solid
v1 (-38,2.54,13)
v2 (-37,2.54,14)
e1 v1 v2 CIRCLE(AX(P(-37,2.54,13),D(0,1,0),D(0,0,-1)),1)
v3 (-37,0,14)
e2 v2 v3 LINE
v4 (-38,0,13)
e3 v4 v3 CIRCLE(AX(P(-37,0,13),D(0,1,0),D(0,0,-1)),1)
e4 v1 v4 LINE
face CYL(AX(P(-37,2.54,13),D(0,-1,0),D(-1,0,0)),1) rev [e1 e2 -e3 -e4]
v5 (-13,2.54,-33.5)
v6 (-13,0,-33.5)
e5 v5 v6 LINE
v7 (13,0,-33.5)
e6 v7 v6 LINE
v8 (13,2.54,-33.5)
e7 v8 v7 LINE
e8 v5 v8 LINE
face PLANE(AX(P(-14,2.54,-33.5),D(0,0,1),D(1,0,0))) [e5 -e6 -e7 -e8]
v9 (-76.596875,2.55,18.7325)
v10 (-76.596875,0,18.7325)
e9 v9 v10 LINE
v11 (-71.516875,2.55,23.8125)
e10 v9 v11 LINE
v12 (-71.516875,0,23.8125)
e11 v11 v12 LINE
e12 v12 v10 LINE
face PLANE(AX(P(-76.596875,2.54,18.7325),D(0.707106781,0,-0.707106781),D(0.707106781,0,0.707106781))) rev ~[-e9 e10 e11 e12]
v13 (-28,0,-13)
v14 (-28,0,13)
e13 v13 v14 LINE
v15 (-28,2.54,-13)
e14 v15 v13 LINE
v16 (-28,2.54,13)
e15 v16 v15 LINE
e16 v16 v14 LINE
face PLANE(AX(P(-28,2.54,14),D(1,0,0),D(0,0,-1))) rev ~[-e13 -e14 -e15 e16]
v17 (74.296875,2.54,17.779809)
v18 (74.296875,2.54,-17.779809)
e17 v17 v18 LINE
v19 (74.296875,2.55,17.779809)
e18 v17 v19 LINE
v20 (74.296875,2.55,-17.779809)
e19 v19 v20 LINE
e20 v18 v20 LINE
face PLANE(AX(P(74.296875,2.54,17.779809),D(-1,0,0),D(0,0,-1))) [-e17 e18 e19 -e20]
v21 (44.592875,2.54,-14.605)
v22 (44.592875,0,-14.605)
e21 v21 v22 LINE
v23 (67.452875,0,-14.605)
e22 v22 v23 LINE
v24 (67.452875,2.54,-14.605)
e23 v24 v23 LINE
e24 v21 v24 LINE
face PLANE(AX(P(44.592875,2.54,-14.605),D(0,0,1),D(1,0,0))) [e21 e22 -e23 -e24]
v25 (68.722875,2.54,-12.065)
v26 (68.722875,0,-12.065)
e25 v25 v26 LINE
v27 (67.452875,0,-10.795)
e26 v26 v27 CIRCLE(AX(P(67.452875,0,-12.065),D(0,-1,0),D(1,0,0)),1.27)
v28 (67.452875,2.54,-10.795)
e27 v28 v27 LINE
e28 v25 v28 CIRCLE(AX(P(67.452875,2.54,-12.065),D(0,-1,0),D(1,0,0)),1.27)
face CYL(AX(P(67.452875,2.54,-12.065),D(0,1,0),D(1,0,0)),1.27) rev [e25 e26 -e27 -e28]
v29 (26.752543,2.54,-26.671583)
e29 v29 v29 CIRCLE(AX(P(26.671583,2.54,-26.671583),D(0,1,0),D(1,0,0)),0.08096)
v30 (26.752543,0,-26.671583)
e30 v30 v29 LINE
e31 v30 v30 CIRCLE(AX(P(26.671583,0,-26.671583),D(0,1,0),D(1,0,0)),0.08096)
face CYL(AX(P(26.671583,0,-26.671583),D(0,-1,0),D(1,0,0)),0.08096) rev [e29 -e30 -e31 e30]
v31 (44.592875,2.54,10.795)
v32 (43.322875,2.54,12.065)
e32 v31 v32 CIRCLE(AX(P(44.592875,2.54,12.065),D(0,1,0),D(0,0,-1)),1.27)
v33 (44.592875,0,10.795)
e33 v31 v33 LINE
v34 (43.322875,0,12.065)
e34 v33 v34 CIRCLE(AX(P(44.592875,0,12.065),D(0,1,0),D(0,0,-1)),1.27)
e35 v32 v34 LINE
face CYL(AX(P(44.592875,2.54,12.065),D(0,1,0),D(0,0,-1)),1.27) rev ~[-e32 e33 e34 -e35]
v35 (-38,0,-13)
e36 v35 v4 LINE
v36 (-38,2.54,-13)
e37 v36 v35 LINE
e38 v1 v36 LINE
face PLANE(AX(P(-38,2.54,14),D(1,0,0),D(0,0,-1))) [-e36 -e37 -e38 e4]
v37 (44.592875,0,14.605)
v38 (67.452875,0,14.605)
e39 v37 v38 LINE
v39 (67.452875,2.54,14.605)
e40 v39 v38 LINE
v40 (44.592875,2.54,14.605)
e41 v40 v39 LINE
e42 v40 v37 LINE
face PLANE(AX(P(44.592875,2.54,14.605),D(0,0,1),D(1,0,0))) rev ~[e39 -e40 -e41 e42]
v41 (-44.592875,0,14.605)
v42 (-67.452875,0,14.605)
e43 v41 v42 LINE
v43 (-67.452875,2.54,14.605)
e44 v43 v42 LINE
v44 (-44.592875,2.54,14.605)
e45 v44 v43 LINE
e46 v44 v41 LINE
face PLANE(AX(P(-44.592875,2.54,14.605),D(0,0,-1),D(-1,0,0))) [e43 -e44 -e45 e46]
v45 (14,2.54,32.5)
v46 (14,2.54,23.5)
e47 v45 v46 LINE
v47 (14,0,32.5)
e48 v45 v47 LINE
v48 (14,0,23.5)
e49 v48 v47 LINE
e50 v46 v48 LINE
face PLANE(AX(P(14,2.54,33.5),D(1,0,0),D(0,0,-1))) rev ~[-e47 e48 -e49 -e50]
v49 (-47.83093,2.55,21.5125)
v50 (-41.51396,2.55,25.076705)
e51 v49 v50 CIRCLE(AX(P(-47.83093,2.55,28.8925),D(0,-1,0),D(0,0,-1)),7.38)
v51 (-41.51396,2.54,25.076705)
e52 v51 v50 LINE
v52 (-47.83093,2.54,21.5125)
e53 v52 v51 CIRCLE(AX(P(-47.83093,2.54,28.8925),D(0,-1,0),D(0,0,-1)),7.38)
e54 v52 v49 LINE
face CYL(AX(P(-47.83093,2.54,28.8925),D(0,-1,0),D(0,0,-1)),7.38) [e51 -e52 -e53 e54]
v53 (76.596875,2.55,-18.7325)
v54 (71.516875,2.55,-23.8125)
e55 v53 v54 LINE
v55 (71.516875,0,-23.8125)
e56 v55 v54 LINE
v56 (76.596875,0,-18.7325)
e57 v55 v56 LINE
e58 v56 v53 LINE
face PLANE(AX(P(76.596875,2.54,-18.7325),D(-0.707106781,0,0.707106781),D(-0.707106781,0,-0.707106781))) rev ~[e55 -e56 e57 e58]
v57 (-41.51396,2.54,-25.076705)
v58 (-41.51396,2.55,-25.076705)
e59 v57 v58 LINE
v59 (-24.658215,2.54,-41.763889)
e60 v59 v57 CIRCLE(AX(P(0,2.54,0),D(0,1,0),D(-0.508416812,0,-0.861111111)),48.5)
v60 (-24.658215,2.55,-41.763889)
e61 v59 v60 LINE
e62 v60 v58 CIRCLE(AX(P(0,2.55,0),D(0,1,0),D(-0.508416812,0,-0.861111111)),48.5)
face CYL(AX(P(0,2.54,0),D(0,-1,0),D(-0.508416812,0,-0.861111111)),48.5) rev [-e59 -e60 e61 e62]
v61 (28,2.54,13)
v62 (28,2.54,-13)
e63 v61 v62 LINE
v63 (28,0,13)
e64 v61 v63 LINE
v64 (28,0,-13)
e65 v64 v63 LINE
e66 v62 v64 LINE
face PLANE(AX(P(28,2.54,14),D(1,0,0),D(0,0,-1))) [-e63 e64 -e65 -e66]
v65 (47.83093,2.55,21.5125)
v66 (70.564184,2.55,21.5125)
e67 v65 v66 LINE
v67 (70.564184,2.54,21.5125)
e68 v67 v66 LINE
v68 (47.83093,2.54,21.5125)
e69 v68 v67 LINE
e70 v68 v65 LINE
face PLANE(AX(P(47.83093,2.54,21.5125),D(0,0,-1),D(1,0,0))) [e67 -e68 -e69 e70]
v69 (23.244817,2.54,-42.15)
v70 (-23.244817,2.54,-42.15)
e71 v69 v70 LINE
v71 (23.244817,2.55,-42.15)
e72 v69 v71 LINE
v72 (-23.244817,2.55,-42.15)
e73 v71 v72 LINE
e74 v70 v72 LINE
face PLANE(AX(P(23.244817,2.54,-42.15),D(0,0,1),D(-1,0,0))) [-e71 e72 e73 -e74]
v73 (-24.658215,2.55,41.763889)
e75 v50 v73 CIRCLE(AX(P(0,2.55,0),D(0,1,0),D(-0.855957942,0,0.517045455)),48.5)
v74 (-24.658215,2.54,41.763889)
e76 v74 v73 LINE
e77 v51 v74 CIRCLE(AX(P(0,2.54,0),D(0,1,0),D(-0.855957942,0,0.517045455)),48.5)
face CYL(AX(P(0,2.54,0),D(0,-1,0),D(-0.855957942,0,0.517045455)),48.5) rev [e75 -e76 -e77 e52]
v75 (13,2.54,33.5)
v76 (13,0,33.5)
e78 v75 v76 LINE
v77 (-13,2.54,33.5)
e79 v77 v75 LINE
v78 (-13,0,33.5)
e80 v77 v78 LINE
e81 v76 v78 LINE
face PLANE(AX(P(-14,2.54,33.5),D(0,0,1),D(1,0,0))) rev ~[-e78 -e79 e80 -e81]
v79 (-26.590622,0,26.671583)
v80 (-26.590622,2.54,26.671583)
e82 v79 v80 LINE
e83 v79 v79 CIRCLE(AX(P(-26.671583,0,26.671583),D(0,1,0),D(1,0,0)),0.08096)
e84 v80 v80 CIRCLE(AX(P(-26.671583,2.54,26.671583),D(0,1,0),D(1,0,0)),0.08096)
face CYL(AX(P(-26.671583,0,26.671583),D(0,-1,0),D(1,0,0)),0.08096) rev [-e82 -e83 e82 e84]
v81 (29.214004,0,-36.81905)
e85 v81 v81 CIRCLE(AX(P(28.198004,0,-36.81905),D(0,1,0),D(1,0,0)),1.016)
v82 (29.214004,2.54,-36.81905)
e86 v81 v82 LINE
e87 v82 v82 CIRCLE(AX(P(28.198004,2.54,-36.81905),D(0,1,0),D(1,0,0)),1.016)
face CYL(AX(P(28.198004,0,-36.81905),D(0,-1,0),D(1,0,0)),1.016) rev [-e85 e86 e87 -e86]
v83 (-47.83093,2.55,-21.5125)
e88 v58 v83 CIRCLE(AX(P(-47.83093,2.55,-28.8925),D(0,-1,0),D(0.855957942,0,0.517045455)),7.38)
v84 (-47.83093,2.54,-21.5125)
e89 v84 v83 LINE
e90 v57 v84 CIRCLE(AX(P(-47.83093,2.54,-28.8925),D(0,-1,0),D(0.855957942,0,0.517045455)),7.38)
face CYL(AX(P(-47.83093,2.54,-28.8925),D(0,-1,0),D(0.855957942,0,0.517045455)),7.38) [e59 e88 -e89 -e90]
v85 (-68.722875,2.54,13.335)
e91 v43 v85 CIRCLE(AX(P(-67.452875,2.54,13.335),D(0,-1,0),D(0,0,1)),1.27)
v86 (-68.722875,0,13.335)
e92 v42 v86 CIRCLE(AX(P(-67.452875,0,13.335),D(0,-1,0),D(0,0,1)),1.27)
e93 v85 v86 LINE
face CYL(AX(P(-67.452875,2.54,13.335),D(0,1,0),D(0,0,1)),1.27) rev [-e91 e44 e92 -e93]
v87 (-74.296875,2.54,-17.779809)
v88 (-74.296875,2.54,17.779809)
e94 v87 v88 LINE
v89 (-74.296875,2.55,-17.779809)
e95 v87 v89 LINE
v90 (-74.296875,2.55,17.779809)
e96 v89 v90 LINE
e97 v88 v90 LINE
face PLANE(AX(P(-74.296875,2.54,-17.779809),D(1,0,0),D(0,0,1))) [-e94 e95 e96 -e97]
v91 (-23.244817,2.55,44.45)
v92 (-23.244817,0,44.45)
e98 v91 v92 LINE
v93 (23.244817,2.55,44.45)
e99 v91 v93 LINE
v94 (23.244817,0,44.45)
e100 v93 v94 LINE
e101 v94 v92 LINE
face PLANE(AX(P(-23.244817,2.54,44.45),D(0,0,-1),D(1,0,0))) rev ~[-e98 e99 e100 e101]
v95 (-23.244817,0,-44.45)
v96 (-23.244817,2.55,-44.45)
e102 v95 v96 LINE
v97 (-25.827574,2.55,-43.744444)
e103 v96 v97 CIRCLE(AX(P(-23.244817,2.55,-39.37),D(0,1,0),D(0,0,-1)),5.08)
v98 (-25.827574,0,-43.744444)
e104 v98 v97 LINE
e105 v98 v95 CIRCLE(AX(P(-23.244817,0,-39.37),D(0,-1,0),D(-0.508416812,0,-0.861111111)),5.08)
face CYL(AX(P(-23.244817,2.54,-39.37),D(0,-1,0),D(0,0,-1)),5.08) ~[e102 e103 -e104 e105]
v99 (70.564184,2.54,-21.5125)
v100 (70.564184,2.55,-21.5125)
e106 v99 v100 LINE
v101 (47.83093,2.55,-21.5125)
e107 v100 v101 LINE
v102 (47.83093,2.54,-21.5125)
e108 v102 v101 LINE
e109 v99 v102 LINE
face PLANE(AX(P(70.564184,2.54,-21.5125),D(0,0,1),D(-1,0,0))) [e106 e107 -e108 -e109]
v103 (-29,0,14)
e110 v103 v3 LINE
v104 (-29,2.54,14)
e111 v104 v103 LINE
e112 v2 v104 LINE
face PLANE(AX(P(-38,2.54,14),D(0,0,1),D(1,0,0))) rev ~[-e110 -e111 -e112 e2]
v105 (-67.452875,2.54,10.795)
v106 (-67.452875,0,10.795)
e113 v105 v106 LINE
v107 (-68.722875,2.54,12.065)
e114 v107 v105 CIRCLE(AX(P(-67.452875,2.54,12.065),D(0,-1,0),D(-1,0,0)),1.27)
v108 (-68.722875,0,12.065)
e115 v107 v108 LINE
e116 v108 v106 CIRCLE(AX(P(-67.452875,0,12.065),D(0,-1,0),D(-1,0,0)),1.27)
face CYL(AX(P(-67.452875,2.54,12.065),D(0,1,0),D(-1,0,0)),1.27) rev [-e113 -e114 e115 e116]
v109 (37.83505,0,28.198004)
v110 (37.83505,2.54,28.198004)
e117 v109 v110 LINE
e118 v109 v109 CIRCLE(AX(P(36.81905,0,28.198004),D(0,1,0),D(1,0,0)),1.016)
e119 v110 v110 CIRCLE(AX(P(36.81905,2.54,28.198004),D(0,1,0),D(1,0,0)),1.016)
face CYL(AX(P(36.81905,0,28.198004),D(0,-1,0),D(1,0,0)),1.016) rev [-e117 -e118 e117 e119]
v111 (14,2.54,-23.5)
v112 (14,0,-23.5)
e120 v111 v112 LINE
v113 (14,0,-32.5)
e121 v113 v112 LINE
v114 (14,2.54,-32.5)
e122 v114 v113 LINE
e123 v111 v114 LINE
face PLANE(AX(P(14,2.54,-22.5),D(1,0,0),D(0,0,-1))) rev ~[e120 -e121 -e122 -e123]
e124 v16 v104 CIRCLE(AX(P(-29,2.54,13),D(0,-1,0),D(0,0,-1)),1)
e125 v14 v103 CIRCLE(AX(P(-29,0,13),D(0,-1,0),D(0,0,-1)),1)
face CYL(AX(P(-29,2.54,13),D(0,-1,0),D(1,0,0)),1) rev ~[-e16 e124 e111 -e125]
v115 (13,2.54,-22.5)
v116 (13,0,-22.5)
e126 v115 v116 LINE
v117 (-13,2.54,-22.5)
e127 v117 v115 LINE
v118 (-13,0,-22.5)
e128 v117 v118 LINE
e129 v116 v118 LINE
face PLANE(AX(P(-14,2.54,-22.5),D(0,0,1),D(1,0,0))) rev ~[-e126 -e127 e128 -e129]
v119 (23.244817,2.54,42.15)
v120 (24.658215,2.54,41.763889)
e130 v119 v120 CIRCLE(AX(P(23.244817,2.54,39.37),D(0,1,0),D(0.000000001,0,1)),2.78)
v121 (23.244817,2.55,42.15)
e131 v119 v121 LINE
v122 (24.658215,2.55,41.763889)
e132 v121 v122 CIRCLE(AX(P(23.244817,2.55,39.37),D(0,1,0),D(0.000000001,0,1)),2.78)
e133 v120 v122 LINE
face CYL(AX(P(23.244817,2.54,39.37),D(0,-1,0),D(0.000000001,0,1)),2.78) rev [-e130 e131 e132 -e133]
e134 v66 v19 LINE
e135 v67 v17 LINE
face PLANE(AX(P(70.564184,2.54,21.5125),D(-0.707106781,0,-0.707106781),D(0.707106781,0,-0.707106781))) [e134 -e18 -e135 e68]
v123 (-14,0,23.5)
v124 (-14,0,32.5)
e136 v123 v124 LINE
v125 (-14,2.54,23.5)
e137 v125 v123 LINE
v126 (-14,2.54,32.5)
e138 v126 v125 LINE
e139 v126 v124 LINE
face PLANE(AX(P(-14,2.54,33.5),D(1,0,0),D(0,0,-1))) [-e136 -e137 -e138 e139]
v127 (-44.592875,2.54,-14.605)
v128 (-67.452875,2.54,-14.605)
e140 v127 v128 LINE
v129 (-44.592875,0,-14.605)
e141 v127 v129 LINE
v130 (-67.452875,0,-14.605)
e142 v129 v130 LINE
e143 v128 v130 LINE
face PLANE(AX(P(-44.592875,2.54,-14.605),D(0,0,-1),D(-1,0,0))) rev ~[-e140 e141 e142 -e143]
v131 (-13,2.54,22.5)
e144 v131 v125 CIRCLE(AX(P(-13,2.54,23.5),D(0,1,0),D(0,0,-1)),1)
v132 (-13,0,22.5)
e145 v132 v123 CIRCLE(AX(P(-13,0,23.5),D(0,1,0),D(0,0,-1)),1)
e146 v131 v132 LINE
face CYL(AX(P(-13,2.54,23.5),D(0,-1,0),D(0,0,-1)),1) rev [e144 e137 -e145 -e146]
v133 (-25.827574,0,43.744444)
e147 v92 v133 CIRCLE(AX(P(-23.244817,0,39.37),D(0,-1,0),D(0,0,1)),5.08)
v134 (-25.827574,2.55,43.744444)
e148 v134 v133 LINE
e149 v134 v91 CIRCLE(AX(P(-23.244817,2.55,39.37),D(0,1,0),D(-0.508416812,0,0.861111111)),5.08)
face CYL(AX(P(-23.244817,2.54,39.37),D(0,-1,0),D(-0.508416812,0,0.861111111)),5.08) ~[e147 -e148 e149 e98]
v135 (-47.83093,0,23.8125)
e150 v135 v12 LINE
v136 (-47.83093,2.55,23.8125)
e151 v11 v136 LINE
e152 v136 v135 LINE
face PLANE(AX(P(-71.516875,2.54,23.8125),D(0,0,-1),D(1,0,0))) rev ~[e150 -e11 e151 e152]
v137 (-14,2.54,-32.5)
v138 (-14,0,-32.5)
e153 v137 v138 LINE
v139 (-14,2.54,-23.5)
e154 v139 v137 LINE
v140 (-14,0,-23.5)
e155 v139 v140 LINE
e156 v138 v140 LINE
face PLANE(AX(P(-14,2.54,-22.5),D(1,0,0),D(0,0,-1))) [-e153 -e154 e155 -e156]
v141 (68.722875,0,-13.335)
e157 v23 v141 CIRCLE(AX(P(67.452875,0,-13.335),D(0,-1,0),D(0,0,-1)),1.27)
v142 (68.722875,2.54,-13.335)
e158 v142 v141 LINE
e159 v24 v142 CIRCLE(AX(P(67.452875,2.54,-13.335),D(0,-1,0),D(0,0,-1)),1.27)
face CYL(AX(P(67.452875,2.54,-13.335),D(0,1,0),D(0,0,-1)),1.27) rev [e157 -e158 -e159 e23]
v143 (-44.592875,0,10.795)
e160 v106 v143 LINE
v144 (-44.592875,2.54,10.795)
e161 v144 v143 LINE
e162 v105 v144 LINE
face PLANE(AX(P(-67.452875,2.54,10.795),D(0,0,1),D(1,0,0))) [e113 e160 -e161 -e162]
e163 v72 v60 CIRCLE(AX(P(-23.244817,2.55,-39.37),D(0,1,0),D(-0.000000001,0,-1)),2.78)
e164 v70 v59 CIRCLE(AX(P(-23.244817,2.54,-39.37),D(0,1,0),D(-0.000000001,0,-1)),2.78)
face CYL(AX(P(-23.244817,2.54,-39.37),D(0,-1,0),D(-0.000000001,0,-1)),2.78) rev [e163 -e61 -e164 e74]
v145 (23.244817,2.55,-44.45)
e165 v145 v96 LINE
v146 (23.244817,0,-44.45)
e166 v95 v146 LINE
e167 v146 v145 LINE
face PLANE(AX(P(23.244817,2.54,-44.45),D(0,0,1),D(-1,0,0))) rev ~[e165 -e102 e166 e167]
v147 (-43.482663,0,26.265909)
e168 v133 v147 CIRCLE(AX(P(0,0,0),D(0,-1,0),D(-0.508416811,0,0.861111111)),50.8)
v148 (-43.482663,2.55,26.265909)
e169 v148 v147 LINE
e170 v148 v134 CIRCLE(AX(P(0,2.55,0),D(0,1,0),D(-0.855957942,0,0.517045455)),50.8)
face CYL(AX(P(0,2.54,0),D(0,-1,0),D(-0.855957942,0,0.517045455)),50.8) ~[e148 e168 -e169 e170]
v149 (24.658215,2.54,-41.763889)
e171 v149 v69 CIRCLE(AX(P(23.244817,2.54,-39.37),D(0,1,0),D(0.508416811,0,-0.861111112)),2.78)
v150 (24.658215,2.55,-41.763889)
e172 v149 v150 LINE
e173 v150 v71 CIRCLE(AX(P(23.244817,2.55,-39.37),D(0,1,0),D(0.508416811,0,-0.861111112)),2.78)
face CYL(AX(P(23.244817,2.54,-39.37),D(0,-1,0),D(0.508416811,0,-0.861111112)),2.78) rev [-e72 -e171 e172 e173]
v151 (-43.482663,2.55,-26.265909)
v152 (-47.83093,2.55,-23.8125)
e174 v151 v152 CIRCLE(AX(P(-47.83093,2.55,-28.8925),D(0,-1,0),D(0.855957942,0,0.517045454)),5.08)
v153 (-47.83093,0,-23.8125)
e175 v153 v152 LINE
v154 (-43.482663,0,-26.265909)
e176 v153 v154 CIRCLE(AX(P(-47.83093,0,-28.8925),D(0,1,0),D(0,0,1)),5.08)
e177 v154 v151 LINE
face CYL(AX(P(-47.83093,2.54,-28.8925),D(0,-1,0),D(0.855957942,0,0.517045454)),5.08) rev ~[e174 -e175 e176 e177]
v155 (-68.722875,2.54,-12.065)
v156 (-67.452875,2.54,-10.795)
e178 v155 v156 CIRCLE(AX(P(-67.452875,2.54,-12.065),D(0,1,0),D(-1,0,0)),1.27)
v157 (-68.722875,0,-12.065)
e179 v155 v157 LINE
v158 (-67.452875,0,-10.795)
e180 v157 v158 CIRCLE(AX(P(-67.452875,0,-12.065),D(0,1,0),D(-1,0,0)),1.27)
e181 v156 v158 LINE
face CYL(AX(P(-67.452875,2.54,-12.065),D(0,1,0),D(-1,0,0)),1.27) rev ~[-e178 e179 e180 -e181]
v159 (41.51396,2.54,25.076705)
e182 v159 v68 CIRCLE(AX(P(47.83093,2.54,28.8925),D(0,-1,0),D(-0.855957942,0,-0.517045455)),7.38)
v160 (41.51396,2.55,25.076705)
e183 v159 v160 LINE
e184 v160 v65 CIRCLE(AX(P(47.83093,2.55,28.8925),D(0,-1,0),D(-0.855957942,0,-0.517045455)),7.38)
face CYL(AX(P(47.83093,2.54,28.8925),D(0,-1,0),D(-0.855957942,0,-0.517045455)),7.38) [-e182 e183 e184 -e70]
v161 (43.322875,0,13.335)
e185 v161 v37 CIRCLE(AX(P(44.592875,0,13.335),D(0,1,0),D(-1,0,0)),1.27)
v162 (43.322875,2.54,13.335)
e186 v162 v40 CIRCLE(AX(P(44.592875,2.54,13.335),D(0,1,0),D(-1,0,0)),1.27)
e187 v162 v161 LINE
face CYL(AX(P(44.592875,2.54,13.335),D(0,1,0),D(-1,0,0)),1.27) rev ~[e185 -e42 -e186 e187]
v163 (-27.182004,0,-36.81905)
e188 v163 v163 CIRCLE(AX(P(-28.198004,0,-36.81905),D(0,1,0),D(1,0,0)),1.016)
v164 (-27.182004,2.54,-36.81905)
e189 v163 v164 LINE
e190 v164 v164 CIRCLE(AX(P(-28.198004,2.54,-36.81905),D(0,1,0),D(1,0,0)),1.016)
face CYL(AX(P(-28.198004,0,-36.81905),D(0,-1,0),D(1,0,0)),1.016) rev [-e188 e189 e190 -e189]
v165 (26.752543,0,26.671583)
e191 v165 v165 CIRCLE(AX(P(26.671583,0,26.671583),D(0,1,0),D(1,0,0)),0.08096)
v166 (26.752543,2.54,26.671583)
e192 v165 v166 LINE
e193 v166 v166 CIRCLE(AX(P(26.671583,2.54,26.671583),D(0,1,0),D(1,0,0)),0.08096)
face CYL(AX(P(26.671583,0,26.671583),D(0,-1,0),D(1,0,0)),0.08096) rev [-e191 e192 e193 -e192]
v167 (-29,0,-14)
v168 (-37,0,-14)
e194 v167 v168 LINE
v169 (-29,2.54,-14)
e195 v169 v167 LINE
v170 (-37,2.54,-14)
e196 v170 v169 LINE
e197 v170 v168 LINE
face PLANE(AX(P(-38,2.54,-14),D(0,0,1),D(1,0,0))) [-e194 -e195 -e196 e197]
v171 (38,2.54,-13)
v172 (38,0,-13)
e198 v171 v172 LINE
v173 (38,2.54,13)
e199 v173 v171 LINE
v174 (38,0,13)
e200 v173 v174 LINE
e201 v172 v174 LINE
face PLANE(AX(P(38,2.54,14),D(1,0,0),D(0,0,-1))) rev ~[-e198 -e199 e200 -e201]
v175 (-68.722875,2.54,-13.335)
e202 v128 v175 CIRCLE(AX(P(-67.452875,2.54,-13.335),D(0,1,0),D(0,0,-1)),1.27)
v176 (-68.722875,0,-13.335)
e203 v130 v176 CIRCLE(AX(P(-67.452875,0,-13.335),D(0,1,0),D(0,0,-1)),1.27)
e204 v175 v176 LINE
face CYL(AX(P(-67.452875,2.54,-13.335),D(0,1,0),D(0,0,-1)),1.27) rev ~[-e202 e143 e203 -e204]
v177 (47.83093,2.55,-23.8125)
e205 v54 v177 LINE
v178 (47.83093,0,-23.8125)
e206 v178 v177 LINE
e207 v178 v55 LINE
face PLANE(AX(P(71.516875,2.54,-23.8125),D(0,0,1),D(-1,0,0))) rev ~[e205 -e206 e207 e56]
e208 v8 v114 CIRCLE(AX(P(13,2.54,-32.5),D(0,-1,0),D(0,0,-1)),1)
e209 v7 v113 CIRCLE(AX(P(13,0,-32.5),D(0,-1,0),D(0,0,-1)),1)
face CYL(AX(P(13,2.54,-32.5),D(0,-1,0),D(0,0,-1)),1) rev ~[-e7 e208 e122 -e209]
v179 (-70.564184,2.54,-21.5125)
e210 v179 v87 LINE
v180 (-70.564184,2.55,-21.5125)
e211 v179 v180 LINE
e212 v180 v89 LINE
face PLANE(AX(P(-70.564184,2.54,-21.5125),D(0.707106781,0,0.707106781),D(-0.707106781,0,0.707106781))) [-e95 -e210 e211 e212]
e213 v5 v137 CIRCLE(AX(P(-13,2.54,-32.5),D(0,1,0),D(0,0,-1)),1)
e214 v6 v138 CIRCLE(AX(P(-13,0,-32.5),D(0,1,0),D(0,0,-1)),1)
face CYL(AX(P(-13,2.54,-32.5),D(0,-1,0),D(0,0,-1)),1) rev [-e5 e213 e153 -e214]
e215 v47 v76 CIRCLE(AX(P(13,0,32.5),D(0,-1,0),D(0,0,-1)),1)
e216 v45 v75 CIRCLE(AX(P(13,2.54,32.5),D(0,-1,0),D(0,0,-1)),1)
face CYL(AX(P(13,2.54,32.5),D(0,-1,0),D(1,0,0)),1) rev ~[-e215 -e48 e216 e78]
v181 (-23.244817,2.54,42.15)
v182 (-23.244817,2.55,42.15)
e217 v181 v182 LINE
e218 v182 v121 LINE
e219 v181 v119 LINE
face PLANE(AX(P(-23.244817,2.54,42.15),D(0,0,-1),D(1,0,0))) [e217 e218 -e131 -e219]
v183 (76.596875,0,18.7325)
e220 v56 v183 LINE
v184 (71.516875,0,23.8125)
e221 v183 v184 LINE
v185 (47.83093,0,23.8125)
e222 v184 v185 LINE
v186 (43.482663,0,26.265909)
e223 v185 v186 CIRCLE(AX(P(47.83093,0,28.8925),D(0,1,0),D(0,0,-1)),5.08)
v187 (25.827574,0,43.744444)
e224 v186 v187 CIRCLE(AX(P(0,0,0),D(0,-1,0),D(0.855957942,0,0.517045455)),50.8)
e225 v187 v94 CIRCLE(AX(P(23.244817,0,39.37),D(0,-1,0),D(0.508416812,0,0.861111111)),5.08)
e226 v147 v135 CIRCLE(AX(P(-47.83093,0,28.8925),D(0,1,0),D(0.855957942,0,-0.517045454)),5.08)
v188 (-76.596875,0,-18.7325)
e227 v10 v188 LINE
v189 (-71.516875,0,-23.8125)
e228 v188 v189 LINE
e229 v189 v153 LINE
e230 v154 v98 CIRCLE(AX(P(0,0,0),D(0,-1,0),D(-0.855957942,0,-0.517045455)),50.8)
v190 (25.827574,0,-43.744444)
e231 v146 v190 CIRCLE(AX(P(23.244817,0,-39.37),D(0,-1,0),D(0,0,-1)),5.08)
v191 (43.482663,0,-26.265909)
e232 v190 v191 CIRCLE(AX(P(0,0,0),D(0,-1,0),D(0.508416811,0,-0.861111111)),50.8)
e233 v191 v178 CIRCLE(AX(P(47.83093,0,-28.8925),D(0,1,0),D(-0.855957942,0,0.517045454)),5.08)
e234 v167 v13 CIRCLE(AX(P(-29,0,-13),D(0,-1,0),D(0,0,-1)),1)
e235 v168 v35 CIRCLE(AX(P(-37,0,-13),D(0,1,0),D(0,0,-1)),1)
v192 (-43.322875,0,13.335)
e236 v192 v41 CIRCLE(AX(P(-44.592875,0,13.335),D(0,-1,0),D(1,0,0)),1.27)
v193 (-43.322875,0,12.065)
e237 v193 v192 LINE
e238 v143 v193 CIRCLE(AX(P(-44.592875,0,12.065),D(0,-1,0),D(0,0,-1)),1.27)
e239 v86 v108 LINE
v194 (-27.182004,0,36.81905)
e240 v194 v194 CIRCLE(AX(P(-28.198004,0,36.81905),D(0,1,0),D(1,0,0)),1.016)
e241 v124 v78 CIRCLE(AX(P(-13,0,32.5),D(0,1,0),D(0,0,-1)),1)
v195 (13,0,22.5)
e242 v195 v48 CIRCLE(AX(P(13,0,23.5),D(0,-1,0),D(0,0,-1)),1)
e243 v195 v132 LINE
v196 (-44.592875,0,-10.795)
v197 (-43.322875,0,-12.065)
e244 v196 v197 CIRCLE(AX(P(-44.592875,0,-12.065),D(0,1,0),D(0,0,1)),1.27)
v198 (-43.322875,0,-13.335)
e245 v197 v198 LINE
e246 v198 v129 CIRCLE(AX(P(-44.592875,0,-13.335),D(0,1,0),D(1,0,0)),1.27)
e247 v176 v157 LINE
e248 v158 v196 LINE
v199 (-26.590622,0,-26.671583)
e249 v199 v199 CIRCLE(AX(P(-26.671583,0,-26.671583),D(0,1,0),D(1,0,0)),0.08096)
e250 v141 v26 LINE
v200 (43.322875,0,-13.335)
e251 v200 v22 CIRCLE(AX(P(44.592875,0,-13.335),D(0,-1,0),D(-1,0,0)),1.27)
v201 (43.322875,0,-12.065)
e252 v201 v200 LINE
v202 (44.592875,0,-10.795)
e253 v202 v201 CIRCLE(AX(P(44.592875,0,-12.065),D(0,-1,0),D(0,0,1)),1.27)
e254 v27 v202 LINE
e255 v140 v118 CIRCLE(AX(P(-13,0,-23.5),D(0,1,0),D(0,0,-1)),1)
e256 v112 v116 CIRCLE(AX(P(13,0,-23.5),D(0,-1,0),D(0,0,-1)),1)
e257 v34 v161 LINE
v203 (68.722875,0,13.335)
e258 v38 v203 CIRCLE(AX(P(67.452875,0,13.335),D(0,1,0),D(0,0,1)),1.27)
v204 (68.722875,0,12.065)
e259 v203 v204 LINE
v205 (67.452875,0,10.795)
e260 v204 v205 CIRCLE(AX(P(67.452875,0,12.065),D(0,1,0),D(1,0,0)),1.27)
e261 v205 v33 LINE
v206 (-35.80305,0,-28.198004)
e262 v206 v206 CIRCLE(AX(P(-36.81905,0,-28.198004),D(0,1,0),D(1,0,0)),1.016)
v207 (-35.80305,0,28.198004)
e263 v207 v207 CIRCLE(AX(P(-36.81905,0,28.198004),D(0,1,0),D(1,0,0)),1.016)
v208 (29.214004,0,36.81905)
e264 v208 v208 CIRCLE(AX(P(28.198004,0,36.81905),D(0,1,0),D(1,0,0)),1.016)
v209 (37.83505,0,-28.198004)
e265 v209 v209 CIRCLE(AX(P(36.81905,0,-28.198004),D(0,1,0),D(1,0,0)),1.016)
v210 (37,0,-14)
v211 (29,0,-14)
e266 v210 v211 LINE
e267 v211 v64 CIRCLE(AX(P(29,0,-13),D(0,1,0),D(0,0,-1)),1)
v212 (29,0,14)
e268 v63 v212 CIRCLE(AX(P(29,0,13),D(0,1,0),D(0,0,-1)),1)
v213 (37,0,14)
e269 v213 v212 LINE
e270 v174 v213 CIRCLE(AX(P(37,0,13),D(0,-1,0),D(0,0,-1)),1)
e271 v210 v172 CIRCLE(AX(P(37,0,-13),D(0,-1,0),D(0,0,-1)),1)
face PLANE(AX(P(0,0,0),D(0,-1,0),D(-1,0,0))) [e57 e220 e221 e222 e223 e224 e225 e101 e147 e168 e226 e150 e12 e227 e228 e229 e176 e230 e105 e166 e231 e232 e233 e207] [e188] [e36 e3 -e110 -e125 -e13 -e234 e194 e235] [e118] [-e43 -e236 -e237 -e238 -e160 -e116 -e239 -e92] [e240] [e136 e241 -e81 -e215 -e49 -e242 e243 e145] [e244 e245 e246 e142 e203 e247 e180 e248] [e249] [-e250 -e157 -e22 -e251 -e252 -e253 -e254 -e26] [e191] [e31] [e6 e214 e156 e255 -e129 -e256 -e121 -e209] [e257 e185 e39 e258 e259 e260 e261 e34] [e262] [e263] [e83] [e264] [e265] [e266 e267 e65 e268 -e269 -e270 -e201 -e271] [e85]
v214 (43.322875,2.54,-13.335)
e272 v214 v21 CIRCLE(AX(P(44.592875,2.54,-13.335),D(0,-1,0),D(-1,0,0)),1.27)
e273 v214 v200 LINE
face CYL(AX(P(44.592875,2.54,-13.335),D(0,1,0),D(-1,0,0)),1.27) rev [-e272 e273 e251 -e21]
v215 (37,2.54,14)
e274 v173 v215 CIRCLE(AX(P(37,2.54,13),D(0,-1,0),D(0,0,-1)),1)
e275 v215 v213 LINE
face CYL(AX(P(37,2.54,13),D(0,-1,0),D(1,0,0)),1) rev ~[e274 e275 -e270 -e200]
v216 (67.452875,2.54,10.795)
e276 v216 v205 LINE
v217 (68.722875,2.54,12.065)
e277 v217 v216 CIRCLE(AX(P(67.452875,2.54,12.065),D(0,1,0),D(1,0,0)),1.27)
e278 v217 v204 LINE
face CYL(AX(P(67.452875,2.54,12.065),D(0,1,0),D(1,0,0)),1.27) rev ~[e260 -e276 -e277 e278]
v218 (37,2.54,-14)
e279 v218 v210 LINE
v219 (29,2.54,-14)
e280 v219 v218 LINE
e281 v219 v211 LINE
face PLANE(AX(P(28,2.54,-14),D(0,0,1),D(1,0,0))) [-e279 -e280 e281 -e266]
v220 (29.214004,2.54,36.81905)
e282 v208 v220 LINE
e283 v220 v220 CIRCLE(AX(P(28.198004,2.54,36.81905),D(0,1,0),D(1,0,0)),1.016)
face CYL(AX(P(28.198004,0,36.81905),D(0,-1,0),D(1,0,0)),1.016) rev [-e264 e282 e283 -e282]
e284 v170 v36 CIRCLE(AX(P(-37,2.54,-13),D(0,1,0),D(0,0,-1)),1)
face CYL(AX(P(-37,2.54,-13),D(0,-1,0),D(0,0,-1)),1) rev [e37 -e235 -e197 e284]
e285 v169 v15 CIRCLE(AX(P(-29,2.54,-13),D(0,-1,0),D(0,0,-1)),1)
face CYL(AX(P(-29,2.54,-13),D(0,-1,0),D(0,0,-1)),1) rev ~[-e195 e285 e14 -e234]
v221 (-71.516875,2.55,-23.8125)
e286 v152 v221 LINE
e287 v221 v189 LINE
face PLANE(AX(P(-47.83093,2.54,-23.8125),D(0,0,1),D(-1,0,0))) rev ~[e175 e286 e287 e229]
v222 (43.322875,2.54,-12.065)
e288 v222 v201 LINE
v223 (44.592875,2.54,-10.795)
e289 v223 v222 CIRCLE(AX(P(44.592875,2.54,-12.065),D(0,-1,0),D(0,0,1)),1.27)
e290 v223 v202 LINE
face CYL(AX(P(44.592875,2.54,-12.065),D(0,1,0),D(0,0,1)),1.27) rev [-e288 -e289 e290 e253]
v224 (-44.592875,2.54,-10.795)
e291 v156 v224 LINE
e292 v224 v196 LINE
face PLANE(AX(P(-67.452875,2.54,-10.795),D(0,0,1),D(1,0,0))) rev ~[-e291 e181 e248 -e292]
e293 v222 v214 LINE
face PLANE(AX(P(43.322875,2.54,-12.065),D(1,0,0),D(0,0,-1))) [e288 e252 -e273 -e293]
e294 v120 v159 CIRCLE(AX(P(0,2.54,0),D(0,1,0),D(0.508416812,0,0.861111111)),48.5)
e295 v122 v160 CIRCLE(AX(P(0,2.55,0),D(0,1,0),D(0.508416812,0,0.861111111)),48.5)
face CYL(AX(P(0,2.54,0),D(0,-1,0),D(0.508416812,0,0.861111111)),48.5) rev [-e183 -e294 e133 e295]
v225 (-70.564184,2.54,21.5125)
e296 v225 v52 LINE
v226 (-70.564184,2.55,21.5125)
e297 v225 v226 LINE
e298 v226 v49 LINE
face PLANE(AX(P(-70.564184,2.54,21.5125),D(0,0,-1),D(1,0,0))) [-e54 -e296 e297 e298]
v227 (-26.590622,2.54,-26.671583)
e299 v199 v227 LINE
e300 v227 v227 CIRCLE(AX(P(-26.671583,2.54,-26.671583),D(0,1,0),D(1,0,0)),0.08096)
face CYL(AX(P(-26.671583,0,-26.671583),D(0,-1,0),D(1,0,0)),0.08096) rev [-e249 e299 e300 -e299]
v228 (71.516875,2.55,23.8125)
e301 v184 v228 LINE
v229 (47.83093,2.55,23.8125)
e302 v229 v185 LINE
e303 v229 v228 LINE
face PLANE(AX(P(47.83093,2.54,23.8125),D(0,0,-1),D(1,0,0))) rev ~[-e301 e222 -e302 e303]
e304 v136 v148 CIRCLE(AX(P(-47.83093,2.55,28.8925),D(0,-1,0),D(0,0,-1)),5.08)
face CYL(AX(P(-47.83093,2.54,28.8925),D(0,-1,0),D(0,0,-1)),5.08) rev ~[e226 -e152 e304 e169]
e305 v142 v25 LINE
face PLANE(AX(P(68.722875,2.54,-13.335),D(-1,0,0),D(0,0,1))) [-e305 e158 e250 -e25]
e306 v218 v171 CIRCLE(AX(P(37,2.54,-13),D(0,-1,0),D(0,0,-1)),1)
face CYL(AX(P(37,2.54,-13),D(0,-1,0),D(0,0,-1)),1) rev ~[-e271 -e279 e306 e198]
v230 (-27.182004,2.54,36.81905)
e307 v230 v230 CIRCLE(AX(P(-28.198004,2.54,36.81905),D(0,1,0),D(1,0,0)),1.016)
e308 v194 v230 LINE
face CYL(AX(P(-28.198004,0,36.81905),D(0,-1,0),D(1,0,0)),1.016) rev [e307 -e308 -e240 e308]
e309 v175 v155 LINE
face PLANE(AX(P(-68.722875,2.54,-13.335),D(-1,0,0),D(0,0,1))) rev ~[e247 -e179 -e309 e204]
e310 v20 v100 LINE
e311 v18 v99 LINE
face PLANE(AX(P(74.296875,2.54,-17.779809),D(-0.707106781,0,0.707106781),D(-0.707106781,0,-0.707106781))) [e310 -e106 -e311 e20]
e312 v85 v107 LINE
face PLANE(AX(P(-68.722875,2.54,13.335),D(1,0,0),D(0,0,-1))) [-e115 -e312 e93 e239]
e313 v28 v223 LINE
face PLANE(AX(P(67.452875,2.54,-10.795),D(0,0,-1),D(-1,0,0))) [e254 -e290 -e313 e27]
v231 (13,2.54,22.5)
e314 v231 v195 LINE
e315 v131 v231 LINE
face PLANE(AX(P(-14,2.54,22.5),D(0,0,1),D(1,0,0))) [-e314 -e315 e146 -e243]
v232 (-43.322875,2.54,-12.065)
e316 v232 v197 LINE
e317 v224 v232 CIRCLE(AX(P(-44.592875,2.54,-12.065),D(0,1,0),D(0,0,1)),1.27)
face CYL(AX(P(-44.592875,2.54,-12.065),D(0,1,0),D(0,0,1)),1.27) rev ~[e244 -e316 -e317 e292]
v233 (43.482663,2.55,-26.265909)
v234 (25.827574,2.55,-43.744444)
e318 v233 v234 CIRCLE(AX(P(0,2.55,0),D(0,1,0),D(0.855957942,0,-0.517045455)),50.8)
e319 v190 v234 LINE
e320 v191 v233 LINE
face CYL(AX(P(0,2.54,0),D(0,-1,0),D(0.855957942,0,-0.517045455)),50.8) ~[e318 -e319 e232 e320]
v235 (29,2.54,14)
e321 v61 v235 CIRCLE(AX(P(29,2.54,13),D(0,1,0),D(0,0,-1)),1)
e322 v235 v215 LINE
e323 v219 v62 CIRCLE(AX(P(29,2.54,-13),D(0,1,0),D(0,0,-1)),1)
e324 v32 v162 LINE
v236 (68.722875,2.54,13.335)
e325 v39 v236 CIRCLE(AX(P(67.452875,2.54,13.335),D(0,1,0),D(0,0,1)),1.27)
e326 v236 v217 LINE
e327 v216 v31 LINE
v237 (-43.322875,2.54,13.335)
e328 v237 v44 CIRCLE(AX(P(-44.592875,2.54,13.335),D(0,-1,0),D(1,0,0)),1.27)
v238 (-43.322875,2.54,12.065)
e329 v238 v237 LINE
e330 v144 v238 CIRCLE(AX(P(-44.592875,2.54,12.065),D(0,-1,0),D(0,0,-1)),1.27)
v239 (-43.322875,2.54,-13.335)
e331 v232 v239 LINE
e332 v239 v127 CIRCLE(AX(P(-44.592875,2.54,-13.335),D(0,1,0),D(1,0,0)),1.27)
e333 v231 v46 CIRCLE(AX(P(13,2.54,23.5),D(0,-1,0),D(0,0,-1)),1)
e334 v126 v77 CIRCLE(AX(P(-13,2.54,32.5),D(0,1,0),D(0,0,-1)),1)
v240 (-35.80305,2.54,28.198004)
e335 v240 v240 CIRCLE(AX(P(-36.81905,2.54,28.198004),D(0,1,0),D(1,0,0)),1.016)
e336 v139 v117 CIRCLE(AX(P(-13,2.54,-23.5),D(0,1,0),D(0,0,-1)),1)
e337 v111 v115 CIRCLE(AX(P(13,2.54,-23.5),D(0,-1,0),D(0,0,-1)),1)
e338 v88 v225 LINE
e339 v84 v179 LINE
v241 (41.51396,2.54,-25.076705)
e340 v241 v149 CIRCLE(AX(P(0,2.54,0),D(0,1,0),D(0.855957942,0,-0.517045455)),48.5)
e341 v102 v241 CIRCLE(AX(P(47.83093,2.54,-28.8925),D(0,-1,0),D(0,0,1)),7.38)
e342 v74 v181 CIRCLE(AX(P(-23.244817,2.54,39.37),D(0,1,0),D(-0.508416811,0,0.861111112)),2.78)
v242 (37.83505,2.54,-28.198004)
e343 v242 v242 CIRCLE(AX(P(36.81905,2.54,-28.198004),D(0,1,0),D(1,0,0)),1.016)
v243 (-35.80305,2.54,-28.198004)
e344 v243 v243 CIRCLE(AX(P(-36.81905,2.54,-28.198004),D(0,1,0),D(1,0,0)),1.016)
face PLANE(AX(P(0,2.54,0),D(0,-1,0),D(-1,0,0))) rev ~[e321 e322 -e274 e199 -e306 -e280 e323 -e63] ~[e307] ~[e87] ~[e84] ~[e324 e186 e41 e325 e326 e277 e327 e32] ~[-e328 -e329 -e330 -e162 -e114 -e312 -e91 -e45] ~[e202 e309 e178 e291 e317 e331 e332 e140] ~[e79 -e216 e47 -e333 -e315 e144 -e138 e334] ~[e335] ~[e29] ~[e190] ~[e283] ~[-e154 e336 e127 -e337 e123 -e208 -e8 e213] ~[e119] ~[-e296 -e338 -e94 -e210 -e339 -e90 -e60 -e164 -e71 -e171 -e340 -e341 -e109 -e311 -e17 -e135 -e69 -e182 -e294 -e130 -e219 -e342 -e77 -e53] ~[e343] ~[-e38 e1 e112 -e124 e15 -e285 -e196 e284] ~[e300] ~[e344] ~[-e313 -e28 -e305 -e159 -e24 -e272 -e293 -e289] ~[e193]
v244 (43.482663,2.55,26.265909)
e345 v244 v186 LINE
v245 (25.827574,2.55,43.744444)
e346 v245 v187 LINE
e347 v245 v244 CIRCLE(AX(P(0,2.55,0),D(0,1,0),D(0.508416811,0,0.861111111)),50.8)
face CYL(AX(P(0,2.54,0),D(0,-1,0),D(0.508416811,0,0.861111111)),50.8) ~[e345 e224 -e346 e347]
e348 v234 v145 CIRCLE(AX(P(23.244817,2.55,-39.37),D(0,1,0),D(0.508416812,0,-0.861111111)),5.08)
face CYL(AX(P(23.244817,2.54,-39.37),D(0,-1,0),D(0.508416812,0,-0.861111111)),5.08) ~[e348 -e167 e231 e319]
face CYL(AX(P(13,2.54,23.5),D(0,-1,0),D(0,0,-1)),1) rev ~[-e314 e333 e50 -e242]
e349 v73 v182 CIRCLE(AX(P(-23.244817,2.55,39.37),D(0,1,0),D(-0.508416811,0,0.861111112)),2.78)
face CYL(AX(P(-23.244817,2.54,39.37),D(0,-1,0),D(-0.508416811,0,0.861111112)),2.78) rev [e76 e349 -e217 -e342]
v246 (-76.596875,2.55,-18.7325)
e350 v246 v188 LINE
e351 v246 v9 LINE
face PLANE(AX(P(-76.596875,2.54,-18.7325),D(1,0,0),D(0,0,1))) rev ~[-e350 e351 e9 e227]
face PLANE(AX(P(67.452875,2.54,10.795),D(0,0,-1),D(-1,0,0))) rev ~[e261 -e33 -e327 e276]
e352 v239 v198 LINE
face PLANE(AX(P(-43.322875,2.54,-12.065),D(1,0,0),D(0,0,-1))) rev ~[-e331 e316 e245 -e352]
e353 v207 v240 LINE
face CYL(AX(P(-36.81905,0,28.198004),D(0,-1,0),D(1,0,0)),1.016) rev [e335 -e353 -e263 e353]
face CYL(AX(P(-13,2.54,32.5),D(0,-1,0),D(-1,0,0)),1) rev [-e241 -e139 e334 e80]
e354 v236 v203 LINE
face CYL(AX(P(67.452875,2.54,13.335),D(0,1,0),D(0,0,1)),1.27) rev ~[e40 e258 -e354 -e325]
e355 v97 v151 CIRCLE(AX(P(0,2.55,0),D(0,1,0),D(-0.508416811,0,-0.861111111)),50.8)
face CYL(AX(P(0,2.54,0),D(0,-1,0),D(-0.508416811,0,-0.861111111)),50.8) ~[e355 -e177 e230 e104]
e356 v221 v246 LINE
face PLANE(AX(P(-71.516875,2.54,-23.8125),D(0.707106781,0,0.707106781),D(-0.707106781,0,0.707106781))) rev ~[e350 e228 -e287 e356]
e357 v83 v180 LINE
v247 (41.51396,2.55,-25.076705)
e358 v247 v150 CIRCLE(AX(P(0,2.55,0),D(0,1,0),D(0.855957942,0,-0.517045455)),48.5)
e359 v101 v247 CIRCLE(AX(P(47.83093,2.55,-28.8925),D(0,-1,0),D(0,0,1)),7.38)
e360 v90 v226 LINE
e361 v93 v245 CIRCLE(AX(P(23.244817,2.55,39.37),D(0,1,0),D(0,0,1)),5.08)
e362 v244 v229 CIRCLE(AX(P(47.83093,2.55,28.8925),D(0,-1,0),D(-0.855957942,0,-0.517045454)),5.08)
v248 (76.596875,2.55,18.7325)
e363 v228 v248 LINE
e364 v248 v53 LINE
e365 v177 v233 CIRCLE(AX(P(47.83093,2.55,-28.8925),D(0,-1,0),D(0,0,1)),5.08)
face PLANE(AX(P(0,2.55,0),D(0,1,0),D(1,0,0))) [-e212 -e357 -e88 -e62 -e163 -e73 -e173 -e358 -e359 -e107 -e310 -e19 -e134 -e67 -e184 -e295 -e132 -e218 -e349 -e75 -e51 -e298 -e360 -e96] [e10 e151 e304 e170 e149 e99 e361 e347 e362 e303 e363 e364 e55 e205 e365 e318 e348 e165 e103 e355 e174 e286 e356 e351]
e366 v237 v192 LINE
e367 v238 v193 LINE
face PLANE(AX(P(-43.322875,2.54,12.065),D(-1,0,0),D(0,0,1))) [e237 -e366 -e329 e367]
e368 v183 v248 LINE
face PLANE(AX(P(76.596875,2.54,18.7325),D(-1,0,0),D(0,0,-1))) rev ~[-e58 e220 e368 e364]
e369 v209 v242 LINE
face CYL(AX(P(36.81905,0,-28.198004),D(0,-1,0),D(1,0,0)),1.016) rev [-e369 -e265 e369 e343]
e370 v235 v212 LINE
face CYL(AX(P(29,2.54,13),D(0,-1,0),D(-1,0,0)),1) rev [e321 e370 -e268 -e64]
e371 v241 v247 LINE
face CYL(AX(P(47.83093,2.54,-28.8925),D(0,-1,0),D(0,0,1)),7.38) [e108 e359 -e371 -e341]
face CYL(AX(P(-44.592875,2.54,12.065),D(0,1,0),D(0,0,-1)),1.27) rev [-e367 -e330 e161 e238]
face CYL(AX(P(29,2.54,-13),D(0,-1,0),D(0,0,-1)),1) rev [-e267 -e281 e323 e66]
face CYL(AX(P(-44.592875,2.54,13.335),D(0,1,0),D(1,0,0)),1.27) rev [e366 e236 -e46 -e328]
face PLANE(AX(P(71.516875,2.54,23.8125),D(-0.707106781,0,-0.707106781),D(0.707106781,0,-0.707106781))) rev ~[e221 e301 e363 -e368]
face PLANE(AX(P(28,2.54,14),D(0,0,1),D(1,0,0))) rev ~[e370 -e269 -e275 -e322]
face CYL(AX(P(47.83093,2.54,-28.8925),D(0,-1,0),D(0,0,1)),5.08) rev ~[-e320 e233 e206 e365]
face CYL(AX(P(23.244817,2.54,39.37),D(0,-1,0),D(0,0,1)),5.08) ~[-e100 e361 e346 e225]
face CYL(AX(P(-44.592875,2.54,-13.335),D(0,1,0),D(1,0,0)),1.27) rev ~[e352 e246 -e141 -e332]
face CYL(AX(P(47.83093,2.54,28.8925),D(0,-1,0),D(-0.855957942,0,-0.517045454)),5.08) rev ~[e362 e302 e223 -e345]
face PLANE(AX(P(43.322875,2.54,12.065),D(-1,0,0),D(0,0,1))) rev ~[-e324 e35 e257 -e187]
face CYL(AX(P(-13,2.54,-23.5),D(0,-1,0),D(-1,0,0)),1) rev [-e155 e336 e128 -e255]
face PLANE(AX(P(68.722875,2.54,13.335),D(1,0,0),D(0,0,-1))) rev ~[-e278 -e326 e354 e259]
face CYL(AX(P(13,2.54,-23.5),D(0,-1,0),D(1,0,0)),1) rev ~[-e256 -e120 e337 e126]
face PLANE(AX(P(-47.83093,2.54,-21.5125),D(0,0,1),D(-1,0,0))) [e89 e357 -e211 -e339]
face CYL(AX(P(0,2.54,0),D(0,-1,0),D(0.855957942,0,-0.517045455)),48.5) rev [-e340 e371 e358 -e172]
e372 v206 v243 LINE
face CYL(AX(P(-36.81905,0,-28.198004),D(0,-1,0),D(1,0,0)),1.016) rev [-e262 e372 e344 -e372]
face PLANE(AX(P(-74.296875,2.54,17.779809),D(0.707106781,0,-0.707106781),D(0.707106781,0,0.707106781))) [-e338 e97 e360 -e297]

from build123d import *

# Parameters (mm, degrees)
SKETCH1_R           = 1.016
SKETCH1_R_2         = 0.080960088
BOSS_EXTRUDE1_DEPTH = 2.54
SKETCH3_W           = 28
SKETCH3_H           = 11
SKETCH3_W_2         = 10
SKETCH3_H_2         = 28
CUT_EXTRUDE_1_DEPTH = 10
CUT_EXTRUDE2_DEPTH  = 2.54
FILLET_1_R          = 1
BOSS_EXTRUDE2_DEPTH = 0.01


with BuildPart() as part:
    # Sketch1 → Boss-Extrude1 (new body)
    with BuildSketch(Plane(origin=(0, 0, 0), x_dir=(1, 0, 0), z_dir=(0, 1, 0))):
        with BuildLine():
            Line((-23.244816627, 44.45), (23.244816627, 44.45))
            ThreePointArc((23.244816627, 44.45), (24.583514169, 44.270437622), (25.827574029, 43.744444444))
            ThreePointArc((25.827574029, 43.744444444), (35.740062311, 36.101079569), (43.482663438, 26.265909091))
            ThreePointArc((43.482663438, 26.265909091), (45.334600658, 24.468164919), (47.830929781, 23.8125))
            Line((47.830929781, 23.8125), (71.516875, 23.8125))
            Line((71.516875, 23.8125), (76.596875, 18.7325))
            Line((76.596875, 18.7325), (76.596875, -18.7325))
            Line((76.596875, -18.7325), (71.516875, -23.8125))
            Line((71.516875, -23.8125), (47.830929781, -23.8125))
            ThreePointArc((47.830929781, -23.8125), (45.334600658, -24.468164919), (43.482663438, -26.265909091))
            ThreePointArc((43.482663438, -26.265909091), (35.740062311, -36.101079569), (25.827574029, -43.744444444))
            ThreePointArc((25.827574029, -43.744444444), (24.583514169, -44.270437622), (23.244816627, -44.45))
            Line((23.244816627, -44.45), (-23.244816627, -44.45))
            ThreePointArc((-23.244816627, -44.45), (-24.583514169, -44.270437622), (-25.827574029, -43.744444444))
            ThreePointArc((-25.827574029, -43.744444444), (-35.740062311, -36.101079569), (-43.482663438, -26.265909091))
            ThreePointArc((-43.482663438, -26.265909091), (-45.334600658, -24.468164919), (-47.830929781, -23.8125))
            Line((-47.830929781, -23.8125), (-71.516875, -23.8125))
            Line((-71.516875, -23.8125), (-76.596875, -18.7325))
            Line((-76.596875, -18.7325), (-76.596875, 18.7325))
            Line((-76.596875, 18.7325), (-71.516875, 23.8125))
            Line((-71.516875, 23.8125), (-47.830929781, 23.8125))
            ThreePointArc((-47.830929781, 23.8125), (-45.334600658, 24.468164919), (-43.482663438, 26.265909091))
            ThreePointArc((-43.482663438, 26.265909091), (-35.740062311, 36.101079569), (-25.827574029, 43.744444444))
            ThreePointArc((-25.827574029, 43.744444444), (-24.583514169, 44.270437622), (-23.244816627, 44.45))
        make_face()
        with Locations((36.819050096, 28.19800422)):
            Circle(SKETCH1_R, mode=Mode.SUBTRACT)
        with Locations((28.19800422, 36.819050096)):
            Circle(SKETCH1_R, mode=Mode.SUBTRACT)
        with Locations((26.671582547, 26.671582547)):
            Circle(SKETCH1_R_2, mode=Mode.SUBTRACT)
        with Locations((26.671582547, -26.671582547)):
            Circle(SKETCH1_R_2, mode=Mode.SUBTRACT)
        with Locations((36.819050096, -28.19800422)):
            Circle(SKETCH1_R, mode=Mode.SUBTRACT)
        with Locations((28.19800422, -36.819050096)):
            Circle(SKETCH1_R, mode=Mode.SUBTRACT)
        with Locations((-26.671582547, -26.671582547)):
            Circle(SKETCH1_R_2, mode=Mode.SUBTRACT)
        with Locations((-28.19800422, -36.819050096)):
            Circle(SKETCH1_R, mode=Mode.SUBTRACT)
        with Locations((-36.819050096, -28.19800422)):
            Circle(SKETCH1_R, mode=Mode.SUBTRACT)
        with Locations((-26.671582547, 26.671582547)):
            Circle(SKETCH1_R_2, mode=Mode.SUBTRACT)
        with Locations((-36.819050096, 28.19800422)):
            Circle(SKETCH1_R, mode=Mode.SUBTRACT)
        with Locations((-28.19800422, 36.819050096)):
            Circle(SKETCH1_R, mode=Mode.SUBTRACT)
    extrude(amount=BOSS_EXTRUDE1_DEPTH)

    # Sketch3 → 切除-拉伸1 (cut)
    with BuildSketch(Plane(origin=(0, 2.54, 0), x_dir=(1, 0, 0), z_dir=(0, 1, 0))):
        with Locations((0, 28)):
            Rectangle(SKETCH3_W, SKETCH3_H)
        with Locations((0, -28)):
            Rectangle(SKETCH3_W, SKETCH3_H)
        with Locations((-33, 0)):
            Rectangle(SKETCH3_W_2, SKETCH3_H_2)
        with Locations((33, 0)):
            Rectangle(SKETCH3_W_2, SKETCH3_H_2)
    extrude(amount=-CUT_EXTRUDE_1_DEPTH, mode=Mode.SUBTRACT)

    # Sketch4 → Cut-Extrude2 (cut)
    with BuildSketch(Plane(origin=(0, 2.54, 0), x_dir=(1, 0, 0), z_dir=(0, 1, 0))):
        with BuildLine():
            Line((44.592875, 14.605), (67.452875, 14.605))
            ThreePointArc((67.452875, 14.605), (68.350900612, 14.233025612), (68.722875, 13.335))
            Line((68.722875, 13.335), (68.722875, 12.065))
            ThreePointArc((68.722875, 12.065), (68.350900612, 11.166974388), (67.452875, 10.795))
            Line((67.452875, 10.795), (44.592875, 10.795))
            ThreePointArc((44.592875, 10.795), (43.694849388, 11.166974388), (43.322875, 12.065))
            Line((43.322875, 12.065), (43.322875, 13.335))
            ThreePointArc((43.322875, 13.335), (43.694849388, 14.233025612), (44.592875, 14.605))
        make_face()
        with BuildLine():
            Line((68.722875, -13.335), (68.722875, -12.065))
            ThreePointArc((68.722875, -12.065), (68.350900612, -11.166974388), (67.452875, -10.795))
            Line((67.452875, -10.795), (44.592875, -10.795))
            ThreePointArc((44.592875, -10.795), (43.694849388, -11.166974388), (43.322875, -12.065))
            Line((43.322875, -12.065), (43.322875, -13.335))
            ThreePointArc((43.322875, -13.335), (43.694849388, -14.233025612), (44.592875, -14.605))
            Line((44.592875, -14.605), (67.452875, -14.605))
            ThreePointArc((67.452875, -14.605), (68.350900612, -14.233025612), (68.722875, -13.335))
        make_face()
        with BuildLine():
            Line((-44.592875, -14.605), (-67.452875, -14.605))
            ThreePointArc((-67.452875, -14.605), (-68.350900612, -14.233025612), (-68.722875, -13.335))
            Line((-68.722875, -13.335), (-68.722875, -12.065))
            ThreePointArc((-68.722875, -12.065), (-68.350900612, -11.166974388), (-67.452875, -10.795))
            Line((-67.452875, -10.795), (-44.592875, -10.795))
            ThreePointArc((-44.592875, -10.795), (-43.694849388, -11.166974388), (-43.322875, -12.065))
            Line((-43.322875, -12.065), (-43.322875, -13.335))
            ThreePointArc((-43.322875, -13.335), (-43.694849388, -14.233025612), (-44.592875, -14.605))
        make_face()
        with BuildLine():
            Line((-68.722875, 13.335), (-68.722875, 12.065))
            ThreePointArc((-68.722875, 12.065), (-68.350900612, 11.166974388), (-67.452875, 10.795))
            Line((-67.452875, 10.795), (-44.592875, 10.795))
            ThreePointArc((-44.592875, 10.795), (-43.694849388, 11.166974388), (-43.322875, 12.065))
            Line((-43.322875, 12.065), (-43.322875, 13.335))
            ThreePointArc((-43.322875, 13.335), (-43.694849388, 14.233025612), (-44.592875, 14.605))
            Line((-44.592875, 14.605), (-67.452875, 14.605))
            ThreePointArc((-67.452875, 14.605), (-68.350900612, 14.233025612), (-68.722875, 13.335))
        make_face()
    extrude(amount=-CUT_EXTRUDE2_DEPTH, mode=Mode.SUBTRACT)

    # 圆角1
    fillet_1_edges = [part.edges().sort_by_distance(p)[0] for p in [
        (14, 1.27, -33.5),
        (14, 1.27, -22.5),
        (-14, 1.27, -22.5),
        (-14, 1.27, -33.5),
        (14, 1.27, 33.5),
        (-14, 1.27, 33.5),
        (-14, 1.27, 22.5),
        (14, 1.27, 22.5),
        (-28, 1.27, -14),
        (-28, 1.27, 14),
        (-38, 1.27, 14),
        (-38, 1.27, -14),
        (38, 1.27, 14),
        (28, 1.27, 14),
        (28, 1.27, -14),
        (38, 1.27, -14),
    ]]
    fillet(fillet_1_edges, radius=FILLET_1_R)

    # Sketch8 → Boss-Extrude2 (add)
    with BuildSketch(Plane(origin=(0, 2.54, 0), x_dir=(1, 0, 0), z_dir=(0, 1, 0))):
        with BuildLine():
            Line((47.830929781, -23.8125), (71.516875, -23.8125))
            Line((71.516875, -23.8125), (76.596875, -18.7325))
            Line((76.596875, -18.7325), (76.596875, 18.7325))
            Line((76.596875, 18.7325), (71.516875, 23.8125))
            Line((71.516875, 23.8125), (47.830929781, 23.8125))
            ThreePointArc((47.830929781, 23.8125), (45.334600658, 24.468164919), (43.482663438, 26.265909091))
            ThreePointArc((43.482663438, 26.265909091), (35.740062311, 36.101079569), (25.827574029, 43.744444444))
            ThreePointArc((25.827574029, 43.744444444), (24.583514169, 44.270437622), (23.244816627, 44.45))
            Line((23.244816627, 44.45), (-23.244816627, 44.45))
            ThreePointArc((-23.244816627, 44.45), (-24.583514169, 44.270437622), (-25.827574029, 43.744444444))
            ThreePointArc((-25.827574029, 43.744444444), (-35.740062311, 36.101079569), (-43.482663438, 26.265909091))
            ThreePointArc((-43.482663438, 26.265909091), (-45.334600658, 24.468164919), (-47.830929781, 23.8125))
            Line((-47.830929781, 23.8125), (-71.516875, 23.8125))
            Line((-71.516875, 23.8125), (-76.596875, 18.7325))
            Line((-76.596875, 18.7325), (-76.596875, -18.7325))
            Line((-76.596875, -18.7325), (-71.516875, -23.8125))
            Line((-71.516875, -23.8125), (-47.830929781, -23.8125))
            ThreePointArc((-47.830929781, -23.8125), (-45.334600658, -24.468164919), (-43.482663438, -26.265909091))
            ThreePointArc((-43.482663438, -26.265909091), (-35.740062311, -36.101079569), (-25.827574029, -43.744444444))
            ThreePointArc((-25.827574029, -43.744444444), (-24.583514169, -44.270437622), (-23.244816627, -44.45))
            Line((-23.244816627, -44.45), (23.244816627, -44.45))
            ThreePointArc((23.244816627, -44.45), (24.583514169, -44.270437622), (25.827574029, -43.744444444))
            ThreePointArc((25.827574029, -43.744444444), (35.740062311, -36.101079569), (43.482663438, -26.265909091))
            ThreePointArc((43.482663438, -26.265909091), (45.334600658, -24.468164919), (47.830929781, -23.8125))
        make_face()
        with BuildLine():
            Line((47.830929781, -21.5125), (70.564183807, -21.5125))
            Line((70.564183807, -21.5125), (74.296875, -17.779808807))
            Line((74.296875, -17.779808807), (74.296875, 17.779808807))
            Line((74.296875, 17.779808807), (70.564183807, 21.5125))
            Line((70.564183807, 21.5125), (47.830929781, 21.5125))
            ThreePointArc((47.830929781, 21.5125), (44.204372906, 22.465021083), (41.513960172, 25.076704545))
            ThreePointArc((41.513960172, 25.076704545), (34.121909883, 34.466581872), (24.658215363, 41.763888889))
            ThreePointArc((24.658215363, 41.763888889), (23.977410951, 42.051735549), (23.244816627, 42.15))
            Line((23.244816627, 42.15), (-23.244816627, 42.15))
            ThreePointArc((-23.244816627, 42.15), (-23.977410951, 42.051735549), (-24.658215363, 41.763888889))
            ThreePointArc((-24.658215363, 41.763888889), (-34.121909883, 34.466581872), (-41.513960172, 25.076704545))
            ThreePointArc((-41.513960172, 25.076704545), (-44.204372906, 22.465021083), (-47.830929781, 21.5125))
            Line((-47.830929781, 21.5125), (-70.564183807, 21.5125))
            Line((-70.564183807, 21.5125), (-74.296875, 17.779808807))
            Line((-74.296875, 17.779808807), (-74.296875, -17.779808807))
            Line((-74.296875, -17.779808807), (-70.564183807, -21.5125))
            Line((-70.564183807, -21.5125), (-47.830929781, -21.5125))
            ThreePointArc((-47.830929781, -21.5125), (-44.204372906, -22.465021083), (-41.513960172, -25.076704545))
            ThreePointArc((-41.513960172, -25.076704545), (-34.121909883, -34.466581872), (-24.658215363, -41.763888889))
            ThreePointArc((-24.658215363, -41.763888889), (-23.977410951, -42.051735549), (-23.244816627, -42.15))
            Line((-23.244816627, -42.15), (23.244816627, -42.15))
            ThreePointArc((23.244816627, -42.15), (23.977410951, -42.051735549), (24.658215363, -41.763888889))
            ThreePointArc((24.658215363, -41.763888889), (34.121909883, -34.466581872), (41.513960172, -25.076704545))
            ThreePointArc((41.513960172, -25.076704545), (44.204372906, -22.465021083), (47.830929781, -21.5125))
        make_face(mode=Mode.SUBTRACT)
    extrude(amount=BOSS_EXTRUDE2_DEPTH)


solid = part.part
